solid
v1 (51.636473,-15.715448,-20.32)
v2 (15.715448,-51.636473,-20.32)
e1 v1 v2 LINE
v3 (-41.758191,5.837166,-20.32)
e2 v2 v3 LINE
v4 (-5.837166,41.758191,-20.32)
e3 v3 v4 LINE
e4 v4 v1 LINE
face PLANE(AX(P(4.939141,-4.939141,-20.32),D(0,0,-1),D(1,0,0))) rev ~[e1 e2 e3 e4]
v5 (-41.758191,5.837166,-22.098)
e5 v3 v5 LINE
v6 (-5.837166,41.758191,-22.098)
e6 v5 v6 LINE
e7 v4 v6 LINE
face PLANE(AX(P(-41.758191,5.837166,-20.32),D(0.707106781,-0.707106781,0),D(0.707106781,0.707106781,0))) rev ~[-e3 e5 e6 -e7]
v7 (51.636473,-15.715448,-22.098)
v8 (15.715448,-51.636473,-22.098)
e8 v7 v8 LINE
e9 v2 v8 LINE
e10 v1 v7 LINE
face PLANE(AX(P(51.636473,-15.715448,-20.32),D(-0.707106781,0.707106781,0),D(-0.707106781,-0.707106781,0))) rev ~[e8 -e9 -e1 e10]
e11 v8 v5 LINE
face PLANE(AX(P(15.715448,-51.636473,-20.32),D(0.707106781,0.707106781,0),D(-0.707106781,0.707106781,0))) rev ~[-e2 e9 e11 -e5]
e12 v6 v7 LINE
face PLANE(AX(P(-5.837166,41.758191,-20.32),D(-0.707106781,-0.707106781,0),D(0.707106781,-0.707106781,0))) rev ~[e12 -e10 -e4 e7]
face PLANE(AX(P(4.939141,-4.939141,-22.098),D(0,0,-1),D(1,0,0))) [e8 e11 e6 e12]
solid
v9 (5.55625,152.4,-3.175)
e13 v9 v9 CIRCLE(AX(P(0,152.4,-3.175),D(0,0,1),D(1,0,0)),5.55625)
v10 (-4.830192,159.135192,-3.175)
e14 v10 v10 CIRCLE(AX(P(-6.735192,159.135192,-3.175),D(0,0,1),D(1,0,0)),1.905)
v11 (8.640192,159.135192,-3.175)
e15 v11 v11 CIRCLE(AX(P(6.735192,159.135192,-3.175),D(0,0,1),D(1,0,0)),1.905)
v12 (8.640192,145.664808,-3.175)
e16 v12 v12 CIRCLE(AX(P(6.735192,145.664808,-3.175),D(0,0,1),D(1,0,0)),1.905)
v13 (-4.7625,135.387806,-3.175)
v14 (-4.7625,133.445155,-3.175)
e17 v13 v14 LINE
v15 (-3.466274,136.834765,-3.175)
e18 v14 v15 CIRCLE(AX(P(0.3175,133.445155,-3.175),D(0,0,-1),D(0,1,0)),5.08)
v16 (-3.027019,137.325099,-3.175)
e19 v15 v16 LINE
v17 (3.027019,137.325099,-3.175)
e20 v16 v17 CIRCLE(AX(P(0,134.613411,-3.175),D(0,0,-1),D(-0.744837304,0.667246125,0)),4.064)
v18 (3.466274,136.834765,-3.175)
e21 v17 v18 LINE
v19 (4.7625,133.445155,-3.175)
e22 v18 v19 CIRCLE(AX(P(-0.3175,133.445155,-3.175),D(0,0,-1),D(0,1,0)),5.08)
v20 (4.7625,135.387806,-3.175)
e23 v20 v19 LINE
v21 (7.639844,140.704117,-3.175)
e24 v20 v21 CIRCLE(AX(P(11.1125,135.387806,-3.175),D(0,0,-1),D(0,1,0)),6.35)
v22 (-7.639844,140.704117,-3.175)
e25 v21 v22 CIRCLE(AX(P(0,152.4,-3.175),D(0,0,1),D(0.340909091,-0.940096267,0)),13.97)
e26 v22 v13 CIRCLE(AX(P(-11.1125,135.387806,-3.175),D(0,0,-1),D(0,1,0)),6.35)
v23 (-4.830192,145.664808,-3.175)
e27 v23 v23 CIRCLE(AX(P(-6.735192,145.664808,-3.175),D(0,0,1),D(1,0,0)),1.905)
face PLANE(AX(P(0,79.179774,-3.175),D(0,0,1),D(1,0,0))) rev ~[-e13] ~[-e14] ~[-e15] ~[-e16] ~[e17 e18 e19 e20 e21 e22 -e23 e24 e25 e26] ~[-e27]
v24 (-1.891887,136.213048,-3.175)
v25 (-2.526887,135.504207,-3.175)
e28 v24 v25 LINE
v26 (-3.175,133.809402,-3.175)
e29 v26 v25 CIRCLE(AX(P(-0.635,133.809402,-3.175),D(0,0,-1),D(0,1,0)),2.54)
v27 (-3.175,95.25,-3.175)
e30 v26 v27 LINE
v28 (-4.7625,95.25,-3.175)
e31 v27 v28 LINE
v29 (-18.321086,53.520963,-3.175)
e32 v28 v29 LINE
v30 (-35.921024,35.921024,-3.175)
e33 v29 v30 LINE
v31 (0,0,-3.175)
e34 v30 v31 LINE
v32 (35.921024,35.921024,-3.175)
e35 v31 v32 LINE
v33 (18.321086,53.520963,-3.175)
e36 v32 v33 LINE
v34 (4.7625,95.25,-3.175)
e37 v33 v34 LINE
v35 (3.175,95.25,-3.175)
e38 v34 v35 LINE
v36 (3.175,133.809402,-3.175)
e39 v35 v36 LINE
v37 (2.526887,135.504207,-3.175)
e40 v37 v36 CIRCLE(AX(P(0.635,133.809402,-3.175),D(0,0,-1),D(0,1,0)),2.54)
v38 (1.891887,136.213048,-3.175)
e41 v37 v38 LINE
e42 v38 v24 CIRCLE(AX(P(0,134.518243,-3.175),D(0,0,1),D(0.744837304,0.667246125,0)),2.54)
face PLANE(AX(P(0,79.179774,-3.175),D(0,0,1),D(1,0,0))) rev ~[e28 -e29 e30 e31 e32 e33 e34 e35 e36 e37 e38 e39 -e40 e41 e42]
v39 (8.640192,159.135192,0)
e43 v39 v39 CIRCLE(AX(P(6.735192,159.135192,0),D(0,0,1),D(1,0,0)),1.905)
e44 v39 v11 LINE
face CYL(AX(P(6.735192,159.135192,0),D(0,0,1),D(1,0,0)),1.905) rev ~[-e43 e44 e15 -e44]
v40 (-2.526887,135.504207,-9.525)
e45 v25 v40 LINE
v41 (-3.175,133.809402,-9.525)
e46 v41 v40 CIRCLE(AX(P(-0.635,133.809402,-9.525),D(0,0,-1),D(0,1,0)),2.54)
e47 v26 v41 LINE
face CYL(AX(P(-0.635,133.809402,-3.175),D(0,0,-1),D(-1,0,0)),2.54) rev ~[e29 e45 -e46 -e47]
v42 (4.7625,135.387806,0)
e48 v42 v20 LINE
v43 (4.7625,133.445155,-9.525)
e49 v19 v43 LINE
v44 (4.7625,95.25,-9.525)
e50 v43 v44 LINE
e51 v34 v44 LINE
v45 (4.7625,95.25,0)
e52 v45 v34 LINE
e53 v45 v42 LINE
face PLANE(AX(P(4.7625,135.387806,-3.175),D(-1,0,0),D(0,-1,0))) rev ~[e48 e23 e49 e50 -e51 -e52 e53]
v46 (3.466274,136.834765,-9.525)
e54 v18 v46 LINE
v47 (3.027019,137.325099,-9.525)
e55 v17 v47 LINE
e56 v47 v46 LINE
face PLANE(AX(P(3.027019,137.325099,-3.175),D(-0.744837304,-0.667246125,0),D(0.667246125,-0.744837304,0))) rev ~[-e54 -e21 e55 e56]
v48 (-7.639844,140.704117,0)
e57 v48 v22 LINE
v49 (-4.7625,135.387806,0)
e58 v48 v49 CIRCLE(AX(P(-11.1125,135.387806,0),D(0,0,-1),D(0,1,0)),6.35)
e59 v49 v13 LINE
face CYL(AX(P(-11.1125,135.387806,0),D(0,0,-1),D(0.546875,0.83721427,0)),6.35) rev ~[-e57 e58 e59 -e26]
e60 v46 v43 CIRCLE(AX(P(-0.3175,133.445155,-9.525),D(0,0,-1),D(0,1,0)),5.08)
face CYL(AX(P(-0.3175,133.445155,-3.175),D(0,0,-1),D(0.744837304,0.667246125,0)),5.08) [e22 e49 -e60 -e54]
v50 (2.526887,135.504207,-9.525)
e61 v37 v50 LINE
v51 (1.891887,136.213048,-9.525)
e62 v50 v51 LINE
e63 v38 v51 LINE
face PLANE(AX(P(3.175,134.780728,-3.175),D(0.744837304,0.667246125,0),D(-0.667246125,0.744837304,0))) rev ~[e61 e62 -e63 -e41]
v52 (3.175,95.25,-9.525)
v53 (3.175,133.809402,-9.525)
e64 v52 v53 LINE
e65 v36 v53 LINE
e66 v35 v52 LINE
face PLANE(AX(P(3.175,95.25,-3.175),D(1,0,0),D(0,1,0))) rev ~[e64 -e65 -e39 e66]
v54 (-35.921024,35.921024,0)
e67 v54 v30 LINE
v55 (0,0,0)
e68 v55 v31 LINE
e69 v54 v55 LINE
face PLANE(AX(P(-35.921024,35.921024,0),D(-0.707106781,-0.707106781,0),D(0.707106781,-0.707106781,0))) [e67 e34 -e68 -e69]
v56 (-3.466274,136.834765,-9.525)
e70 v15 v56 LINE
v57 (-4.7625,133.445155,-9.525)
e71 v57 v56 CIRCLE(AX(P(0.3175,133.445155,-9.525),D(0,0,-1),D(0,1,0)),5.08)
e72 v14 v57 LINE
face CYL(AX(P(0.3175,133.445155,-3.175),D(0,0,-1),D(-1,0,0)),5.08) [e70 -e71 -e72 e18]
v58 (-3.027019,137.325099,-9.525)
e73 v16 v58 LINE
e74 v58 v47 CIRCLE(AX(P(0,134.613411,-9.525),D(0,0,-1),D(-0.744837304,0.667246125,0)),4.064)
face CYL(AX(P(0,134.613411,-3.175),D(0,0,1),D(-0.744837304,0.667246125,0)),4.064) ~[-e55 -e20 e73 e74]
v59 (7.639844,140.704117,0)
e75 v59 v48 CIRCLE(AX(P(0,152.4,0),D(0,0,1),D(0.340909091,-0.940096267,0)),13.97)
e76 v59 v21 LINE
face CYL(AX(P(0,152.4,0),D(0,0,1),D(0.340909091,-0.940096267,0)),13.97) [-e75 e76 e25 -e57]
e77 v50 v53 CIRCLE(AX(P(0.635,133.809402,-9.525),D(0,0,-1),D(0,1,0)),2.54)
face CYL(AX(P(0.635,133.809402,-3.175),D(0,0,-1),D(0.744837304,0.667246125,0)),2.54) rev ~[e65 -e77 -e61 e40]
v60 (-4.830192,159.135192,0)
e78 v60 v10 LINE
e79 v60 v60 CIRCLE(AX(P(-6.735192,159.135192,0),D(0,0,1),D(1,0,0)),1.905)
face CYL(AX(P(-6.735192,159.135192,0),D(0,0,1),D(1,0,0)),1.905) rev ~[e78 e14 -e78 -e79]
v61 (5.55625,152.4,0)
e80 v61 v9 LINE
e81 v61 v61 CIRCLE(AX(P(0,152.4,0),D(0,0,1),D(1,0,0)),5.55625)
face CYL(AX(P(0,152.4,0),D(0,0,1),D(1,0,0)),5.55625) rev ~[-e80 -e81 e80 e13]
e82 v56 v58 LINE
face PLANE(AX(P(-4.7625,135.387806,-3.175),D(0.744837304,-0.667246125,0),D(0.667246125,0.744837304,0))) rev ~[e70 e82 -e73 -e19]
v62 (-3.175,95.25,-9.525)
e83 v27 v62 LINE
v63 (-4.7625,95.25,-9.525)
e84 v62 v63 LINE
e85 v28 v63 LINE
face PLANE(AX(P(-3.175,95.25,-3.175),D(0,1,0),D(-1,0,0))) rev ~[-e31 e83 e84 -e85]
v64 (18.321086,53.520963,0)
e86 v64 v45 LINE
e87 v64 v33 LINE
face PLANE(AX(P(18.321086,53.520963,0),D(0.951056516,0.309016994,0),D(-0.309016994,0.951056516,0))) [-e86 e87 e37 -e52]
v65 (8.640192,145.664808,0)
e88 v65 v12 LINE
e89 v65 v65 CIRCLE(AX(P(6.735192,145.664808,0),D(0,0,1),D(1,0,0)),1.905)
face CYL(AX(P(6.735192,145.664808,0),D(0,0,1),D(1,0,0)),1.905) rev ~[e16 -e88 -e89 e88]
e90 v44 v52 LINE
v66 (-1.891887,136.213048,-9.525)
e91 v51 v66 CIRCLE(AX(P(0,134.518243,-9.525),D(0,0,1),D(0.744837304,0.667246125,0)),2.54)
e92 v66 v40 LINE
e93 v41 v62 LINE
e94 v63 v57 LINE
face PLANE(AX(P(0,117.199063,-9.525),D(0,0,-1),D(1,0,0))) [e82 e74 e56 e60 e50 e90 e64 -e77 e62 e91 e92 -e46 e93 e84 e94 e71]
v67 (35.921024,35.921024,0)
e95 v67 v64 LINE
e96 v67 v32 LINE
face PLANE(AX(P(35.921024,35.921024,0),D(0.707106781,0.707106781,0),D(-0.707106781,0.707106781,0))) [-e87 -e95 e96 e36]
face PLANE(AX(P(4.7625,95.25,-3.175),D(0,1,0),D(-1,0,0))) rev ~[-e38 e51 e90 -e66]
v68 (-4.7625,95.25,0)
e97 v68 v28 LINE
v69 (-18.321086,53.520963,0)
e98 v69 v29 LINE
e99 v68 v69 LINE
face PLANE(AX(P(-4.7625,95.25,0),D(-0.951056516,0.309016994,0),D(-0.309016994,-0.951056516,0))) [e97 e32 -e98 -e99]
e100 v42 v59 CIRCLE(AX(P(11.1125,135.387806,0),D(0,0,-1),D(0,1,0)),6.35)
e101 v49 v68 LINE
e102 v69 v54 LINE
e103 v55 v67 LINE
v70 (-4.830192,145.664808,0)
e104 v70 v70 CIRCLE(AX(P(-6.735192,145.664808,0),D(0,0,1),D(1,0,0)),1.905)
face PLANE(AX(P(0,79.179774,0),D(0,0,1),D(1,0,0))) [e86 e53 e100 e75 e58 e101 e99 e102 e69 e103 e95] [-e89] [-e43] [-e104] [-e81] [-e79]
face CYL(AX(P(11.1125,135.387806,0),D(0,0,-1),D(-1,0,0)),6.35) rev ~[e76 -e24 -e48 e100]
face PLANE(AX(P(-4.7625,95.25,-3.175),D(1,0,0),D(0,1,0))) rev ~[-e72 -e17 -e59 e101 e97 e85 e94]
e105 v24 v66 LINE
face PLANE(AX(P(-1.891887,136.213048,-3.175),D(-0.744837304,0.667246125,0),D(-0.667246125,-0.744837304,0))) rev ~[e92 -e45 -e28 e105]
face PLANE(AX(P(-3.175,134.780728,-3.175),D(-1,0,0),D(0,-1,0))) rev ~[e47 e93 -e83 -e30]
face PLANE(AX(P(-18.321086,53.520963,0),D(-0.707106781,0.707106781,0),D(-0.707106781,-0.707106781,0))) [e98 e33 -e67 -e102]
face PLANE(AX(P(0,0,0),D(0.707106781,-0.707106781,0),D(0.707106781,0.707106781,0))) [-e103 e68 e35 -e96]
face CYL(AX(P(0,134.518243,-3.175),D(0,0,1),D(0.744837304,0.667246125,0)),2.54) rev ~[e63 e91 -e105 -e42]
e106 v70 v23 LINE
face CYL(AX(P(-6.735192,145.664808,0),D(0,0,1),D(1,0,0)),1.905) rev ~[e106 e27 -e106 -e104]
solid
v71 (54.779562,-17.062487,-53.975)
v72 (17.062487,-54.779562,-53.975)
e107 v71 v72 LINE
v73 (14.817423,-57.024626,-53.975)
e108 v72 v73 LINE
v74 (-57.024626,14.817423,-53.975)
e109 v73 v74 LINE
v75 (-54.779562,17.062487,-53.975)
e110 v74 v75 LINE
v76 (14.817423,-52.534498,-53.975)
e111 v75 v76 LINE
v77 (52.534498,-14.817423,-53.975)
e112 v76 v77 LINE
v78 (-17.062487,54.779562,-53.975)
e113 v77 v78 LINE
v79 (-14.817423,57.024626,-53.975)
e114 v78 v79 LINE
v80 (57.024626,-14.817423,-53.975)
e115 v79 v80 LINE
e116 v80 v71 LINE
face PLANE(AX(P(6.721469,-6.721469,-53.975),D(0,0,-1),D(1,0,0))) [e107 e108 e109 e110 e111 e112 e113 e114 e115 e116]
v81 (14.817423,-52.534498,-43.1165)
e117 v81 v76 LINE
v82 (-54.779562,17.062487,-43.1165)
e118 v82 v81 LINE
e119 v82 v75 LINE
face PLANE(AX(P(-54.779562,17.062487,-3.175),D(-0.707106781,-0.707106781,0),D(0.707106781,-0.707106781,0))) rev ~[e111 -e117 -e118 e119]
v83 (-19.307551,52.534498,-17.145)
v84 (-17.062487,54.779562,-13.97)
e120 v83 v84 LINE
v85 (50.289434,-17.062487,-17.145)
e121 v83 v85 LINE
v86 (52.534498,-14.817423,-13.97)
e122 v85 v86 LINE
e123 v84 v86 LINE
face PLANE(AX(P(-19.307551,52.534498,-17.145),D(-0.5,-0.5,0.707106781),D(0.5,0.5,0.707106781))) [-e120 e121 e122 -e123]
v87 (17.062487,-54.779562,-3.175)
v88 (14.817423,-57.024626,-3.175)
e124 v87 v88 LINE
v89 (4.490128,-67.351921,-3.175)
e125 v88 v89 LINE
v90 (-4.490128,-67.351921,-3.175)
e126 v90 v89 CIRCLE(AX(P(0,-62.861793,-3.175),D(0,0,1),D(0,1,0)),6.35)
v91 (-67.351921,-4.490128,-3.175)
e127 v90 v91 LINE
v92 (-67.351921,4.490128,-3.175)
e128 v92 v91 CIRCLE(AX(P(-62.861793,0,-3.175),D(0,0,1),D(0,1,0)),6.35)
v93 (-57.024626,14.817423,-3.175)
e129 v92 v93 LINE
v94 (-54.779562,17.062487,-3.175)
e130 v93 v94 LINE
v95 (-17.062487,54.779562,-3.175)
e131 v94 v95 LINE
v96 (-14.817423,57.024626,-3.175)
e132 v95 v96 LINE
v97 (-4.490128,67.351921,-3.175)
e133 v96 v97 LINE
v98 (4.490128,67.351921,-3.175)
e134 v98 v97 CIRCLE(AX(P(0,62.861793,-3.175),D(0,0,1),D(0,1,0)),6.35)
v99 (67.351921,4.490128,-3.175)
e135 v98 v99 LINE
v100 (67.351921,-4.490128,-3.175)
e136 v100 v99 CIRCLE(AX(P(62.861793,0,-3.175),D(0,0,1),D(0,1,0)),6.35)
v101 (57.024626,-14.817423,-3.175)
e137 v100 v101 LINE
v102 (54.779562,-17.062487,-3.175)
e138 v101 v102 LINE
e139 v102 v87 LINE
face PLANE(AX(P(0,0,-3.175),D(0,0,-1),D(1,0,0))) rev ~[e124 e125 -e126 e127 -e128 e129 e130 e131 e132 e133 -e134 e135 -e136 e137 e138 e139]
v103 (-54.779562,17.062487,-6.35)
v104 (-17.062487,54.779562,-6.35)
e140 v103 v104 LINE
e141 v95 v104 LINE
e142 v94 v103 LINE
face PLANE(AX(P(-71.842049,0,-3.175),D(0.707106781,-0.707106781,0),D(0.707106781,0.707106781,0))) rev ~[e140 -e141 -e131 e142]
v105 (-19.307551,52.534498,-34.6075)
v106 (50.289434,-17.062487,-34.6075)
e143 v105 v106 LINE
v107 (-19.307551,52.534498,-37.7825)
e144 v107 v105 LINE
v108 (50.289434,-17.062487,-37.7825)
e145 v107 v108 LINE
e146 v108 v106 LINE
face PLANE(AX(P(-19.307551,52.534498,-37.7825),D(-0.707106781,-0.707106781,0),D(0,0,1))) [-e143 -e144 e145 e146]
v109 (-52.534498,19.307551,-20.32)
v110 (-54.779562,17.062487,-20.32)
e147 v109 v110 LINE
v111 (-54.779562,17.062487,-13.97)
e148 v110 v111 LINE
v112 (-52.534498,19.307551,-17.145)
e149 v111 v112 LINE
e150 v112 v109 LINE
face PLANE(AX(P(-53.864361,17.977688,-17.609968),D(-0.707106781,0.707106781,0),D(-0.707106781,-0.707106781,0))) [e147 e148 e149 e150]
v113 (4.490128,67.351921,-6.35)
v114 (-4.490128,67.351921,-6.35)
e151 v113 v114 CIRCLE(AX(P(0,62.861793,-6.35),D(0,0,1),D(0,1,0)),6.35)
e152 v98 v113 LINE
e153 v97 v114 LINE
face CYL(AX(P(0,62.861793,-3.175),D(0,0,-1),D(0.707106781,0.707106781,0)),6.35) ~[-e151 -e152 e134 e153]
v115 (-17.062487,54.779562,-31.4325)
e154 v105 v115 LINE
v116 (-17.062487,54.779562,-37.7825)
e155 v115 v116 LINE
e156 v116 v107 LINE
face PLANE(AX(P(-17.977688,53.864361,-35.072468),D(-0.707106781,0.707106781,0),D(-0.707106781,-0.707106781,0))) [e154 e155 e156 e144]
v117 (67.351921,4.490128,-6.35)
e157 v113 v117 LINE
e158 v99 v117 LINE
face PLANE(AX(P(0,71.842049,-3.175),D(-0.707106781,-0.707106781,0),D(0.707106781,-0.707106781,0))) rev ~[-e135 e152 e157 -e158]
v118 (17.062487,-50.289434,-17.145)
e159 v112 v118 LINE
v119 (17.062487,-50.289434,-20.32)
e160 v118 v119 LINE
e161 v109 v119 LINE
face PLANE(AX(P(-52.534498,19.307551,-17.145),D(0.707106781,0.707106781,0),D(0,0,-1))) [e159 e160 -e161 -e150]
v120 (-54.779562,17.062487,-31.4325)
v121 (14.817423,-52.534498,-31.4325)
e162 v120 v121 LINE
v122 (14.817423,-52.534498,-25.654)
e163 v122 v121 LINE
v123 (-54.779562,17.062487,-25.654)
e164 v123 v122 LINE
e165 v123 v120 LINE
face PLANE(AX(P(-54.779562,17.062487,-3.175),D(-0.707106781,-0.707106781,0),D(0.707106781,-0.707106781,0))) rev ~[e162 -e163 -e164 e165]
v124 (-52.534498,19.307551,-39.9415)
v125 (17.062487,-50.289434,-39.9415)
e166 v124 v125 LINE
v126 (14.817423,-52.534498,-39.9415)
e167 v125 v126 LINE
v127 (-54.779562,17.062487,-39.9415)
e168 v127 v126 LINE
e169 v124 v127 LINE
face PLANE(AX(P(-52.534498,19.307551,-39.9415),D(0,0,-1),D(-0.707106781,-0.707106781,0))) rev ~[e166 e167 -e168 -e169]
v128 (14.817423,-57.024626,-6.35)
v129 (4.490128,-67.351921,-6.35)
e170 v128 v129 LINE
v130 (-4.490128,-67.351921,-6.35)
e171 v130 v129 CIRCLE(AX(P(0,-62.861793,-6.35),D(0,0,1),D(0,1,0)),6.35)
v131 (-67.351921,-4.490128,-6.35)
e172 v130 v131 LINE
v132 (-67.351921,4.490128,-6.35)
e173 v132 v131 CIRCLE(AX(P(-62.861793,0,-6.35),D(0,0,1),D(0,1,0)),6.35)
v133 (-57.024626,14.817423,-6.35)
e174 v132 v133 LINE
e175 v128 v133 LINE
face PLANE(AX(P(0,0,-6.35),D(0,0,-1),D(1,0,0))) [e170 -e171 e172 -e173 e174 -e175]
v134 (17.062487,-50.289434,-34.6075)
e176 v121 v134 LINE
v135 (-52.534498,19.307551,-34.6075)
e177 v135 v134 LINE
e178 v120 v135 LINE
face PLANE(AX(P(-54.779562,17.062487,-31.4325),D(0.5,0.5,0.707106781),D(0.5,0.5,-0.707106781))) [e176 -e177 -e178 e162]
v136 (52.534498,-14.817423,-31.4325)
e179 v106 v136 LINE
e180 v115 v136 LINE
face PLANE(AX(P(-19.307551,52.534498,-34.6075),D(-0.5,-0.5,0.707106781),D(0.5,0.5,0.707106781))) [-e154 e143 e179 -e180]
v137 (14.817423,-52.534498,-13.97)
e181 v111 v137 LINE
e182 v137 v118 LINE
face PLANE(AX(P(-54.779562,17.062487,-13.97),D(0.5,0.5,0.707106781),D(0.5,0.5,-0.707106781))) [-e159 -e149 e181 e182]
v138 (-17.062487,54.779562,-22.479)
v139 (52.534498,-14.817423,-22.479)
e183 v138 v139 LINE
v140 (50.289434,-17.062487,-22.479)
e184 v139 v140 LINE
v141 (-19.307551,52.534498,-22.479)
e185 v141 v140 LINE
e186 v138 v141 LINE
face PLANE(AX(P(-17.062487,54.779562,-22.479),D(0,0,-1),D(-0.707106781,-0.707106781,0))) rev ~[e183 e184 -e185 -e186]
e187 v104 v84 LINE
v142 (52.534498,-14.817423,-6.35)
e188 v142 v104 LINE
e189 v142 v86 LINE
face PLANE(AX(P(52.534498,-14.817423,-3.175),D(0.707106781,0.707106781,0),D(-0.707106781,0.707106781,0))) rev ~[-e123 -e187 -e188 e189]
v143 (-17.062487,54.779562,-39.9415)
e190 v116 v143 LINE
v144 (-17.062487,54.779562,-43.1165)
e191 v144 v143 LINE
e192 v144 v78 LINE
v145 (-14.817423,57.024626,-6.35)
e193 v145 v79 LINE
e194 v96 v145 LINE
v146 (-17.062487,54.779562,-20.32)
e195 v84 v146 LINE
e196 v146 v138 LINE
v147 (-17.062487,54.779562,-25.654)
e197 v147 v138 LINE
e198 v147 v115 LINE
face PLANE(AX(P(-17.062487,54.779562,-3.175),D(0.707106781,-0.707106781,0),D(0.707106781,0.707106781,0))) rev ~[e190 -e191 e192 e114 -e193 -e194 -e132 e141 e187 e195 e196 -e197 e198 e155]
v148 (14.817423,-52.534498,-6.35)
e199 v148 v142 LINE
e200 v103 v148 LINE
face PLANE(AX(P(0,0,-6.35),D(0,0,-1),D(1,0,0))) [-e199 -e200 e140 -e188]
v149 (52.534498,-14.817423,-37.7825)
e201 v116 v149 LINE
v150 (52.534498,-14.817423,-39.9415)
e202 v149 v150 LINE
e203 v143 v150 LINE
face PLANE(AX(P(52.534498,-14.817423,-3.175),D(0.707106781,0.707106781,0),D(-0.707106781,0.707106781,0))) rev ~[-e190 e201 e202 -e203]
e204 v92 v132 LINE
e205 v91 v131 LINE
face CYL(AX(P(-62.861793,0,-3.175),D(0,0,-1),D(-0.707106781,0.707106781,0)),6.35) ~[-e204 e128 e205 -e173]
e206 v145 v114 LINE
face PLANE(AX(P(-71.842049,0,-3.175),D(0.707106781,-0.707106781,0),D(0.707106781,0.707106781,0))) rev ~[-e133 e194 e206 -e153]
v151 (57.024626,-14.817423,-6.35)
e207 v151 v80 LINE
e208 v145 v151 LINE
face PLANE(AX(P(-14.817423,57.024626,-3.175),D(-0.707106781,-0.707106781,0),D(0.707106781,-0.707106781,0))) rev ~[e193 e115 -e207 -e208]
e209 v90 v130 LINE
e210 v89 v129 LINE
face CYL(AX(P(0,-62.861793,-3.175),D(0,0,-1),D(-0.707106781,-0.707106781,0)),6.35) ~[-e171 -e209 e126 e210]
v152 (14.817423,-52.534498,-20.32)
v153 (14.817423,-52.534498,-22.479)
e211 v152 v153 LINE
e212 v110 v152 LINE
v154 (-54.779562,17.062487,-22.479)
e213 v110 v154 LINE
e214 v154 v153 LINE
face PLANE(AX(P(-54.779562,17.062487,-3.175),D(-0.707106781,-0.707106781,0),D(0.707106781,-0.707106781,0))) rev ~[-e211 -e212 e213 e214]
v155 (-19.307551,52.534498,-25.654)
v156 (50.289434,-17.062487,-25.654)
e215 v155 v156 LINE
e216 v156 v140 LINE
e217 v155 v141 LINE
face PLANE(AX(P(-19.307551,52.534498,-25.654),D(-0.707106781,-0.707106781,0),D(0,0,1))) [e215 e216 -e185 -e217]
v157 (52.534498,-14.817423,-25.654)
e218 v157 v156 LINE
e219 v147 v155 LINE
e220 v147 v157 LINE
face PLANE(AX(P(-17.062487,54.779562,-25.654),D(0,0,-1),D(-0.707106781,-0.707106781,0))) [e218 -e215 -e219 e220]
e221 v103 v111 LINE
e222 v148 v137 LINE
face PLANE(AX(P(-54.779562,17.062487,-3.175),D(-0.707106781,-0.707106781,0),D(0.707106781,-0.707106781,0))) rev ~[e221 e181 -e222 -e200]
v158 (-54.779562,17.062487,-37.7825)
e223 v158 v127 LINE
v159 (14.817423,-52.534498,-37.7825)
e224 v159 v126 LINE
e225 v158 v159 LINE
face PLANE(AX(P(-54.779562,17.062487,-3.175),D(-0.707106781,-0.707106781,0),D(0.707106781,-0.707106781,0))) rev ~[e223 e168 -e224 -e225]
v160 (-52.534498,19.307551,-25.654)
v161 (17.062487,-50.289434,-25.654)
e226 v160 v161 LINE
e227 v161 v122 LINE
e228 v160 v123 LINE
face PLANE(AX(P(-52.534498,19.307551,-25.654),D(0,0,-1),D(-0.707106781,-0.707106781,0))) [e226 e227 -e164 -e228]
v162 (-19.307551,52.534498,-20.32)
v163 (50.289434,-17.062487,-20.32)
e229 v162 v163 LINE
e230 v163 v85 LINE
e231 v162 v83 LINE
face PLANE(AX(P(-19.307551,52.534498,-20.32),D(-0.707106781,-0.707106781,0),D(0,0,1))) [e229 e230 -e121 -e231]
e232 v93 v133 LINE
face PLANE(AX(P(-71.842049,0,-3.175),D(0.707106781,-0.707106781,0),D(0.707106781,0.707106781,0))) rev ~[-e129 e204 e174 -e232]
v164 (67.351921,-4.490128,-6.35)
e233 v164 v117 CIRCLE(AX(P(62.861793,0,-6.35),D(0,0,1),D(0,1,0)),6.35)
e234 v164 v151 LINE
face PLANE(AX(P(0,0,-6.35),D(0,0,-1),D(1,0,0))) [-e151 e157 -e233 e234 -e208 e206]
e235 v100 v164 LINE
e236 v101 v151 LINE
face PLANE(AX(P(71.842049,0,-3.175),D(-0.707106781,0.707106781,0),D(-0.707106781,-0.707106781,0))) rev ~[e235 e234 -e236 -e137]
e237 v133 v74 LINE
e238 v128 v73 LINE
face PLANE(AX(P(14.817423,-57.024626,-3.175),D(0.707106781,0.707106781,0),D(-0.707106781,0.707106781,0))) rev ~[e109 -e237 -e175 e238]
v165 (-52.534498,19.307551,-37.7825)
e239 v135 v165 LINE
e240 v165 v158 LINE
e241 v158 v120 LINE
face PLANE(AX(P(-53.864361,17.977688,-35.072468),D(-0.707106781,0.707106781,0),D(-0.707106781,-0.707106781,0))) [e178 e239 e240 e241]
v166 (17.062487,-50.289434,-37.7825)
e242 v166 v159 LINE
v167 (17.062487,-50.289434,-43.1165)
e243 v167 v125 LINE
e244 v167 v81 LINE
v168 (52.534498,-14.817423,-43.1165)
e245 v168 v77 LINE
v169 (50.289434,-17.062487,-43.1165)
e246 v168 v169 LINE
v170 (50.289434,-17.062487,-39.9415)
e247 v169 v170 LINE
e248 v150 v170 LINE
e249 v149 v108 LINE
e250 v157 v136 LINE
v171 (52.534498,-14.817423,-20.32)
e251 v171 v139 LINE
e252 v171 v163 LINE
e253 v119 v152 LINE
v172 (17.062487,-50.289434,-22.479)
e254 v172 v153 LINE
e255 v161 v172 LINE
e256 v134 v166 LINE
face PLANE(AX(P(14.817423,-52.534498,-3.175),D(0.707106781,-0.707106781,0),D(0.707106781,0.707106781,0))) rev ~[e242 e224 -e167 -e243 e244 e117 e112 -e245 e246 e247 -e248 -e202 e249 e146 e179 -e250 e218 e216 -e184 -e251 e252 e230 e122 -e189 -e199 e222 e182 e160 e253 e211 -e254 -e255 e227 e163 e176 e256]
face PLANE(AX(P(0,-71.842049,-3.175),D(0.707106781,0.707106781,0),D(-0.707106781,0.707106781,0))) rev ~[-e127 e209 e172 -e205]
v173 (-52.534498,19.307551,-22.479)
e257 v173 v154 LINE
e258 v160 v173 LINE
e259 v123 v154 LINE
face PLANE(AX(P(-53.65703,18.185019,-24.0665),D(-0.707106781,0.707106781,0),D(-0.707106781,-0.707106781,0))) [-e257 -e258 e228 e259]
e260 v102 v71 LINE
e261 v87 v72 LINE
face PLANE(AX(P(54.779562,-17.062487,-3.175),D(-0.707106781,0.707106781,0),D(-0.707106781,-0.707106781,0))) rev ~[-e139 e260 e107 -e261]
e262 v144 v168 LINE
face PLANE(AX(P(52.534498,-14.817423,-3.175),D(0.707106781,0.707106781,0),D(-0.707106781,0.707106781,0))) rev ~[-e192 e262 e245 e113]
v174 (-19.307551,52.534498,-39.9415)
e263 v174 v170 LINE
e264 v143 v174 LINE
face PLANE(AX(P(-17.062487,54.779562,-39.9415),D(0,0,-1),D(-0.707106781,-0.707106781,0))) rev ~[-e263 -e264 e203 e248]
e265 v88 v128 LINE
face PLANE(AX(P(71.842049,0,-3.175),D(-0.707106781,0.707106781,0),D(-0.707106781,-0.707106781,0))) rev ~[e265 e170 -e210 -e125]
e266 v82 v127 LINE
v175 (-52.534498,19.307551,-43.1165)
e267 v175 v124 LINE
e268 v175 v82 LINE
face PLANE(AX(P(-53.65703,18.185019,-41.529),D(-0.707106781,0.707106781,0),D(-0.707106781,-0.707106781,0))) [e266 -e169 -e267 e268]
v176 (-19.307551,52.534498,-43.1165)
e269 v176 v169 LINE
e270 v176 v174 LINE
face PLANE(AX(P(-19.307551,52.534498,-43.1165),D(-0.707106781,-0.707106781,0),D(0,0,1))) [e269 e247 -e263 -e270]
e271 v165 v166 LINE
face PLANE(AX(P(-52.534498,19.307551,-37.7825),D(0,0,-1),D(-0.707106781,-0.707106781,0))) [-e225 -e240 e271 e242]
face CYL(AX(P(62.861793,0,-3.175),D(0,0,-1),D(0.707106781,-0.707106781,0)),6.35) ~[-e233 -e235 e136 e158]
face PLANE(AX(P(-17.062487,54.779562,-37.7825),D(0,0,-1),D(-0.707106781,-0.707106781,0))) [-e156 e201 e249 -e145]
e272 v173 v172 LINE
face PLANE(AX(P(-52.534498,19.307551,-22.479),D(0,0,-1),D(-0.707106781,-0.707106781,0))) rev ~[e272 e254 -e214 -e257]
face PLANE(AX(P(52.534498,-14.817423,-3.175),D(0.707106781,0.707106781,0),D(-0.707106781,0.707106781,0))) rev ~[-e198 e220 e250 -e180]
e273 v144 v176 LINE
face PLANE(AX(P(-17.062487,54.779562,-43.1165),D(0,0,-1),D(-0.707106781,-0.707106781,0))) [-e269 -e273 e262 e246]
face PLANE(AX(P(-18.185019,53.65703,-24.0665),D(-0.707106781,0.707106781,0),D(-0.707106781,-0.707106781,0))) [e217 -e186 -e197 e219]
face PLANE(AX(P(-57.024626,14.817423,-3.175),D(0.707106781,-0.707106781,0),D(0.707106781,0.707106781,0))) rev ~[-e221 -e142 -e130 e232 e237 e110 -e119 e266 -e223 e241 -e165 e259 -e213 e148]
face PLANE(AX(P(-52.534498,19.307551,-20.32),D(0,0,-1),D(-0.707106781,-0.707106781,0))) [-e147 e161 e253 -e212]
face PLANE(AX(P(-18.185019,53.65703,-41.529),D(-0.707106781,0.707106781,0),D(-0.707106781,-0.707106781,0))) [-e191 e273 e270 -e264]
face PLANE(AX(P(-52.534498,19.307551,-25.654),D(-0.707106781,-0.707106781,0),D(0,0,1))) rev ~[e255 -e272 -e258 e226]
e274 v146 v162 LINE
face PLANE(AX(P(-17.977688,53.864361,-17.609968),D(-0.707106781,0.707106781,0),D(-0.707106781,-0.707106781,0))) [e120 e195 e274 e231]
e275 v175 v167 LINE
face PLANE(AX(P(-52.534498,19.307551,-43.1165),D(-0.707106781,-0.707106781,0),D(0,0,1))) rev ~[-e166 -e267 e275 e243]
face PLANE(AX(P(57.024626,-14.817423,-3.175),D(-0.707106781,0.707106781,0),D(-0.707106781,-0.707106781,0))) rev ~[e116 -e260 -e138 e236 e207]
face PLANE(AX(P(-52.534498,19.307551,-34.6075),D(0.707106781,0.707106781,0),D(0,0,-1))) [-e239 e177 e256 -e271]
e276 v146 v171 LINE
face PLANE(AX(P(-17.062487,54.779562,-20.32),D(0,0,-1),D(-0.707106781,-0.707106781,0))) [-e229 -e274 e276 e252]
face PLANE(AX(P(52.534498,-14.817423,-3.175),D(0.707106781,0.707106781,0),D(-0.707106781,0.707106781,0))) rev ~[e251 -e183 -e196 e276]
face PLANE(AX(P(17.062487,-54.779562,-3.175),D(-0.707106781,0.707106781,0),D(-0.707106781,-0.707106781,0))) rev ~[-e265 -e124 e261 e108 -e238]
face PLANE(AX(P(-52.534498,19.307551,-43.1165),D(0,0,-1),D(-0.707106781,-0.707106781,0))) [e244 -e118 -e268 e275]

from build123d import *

# Parameters (mm, degrees)
F0_R      = 1.905
F0_R_2    = 5.55625
F1_DEPTH  = 3.175
F3_DEPTH  = 50.8
F4_W      = 3.175
F4_H      = 3.175
F5_DEPTH  = 98.425
F7_DEPTH  = 1.778
F9_DEPTH  = 3.175
F10_R     = 6.35
F12_DEPTH = 6.35
F13_R     = 5.08
F14_R     = 2.54
F15_R     = 6.35


with BuildPart() as f1:
    # F0 (on Top) → F1 (new body)
    with BuildSketch(Plane.XY):
        with BuildLine():
            Line((4.7625, 95.25), (4.7625, 139.2668551462))
            ThreePointArc((4.7625, 139.2668551462), (0, 166.37), (-4.7625, 139.2668551462))
            Line((-4.7625, 139.2668551462), (-4.7625, 95.25))
            Line((-4.7625, 95.25), (-18.3210860538, 53.5209629147))
            Line((-18.3210860538, 53.5209629147), (-35.9210244843, 35.9210244843))
            Line((-35.9210244843, 35.9210244843), (0, 0))
            Line((0, 0), (35.9210244843, 35.9210244843))
            Line((35.9210244843, 35.9210244843), (18.3210860538, 53.5209629147))
            Line((18.3210860538, 53.5209629147), (4.7625, 95.25))
        make_face()
        with Locations((-6.7351920908, 145.6648079092)):
            Circle(F0_R, mode=Mode.SUBTRACT)
        with Locations((0, 152.4)):
            Circle(F0_R_2, mode=Mode.SUBTRACT)
        with Locations((-6.7351920908, 159.1351920908)):
            Circle(F0_R, mode=Mode.SUBTRACT)
        with Locations((6.7351920908, 145.6648079092)):
            Circle(F0_R, mode=Mode.SUBTRACT)
        with Locations((6.7351920908, 159.1351920908)):
            Circle(F0_R, mode=Mode.SUBTRACT)
    extrude(amount=-F1_DEPTH)

    # F10
    f10_edges = [f1.edges().sort_by_distance(p)[0] for p in [
        (-4.7625, 139.266855, -1.5875),
        (4.7625, 139.266855, -1.5875),
    ]]
    fillet(f10_edges, radius=F10_R)

    # F11 (on face) → F12 (join)
    with BuildSketch(Plane(origin=(0, 0, -3.175), x_dir=(1, 0, 0), z_dir=(0, 0, -1))):
        with BuildLine():
            Line((-3.175, -95.25), (-4.7625, -95.25))
            Line((-4.7625, -95.25), (-4.7625, -135.3878060277))
            Line((-4.7625, -135.3878060277), (-3.0270188015, -137.3250988614))
            ThreePointArc((-3.0270188015, -137.3250988614), (0, -138.6774106095), (3.0270188015, -137.3250988614))
            Line((3.0270188015, -137.3250988614), (4.7625, -135.3878060277))
            Line((4.7625, -135.3878060277), (4.7625, -95.25))
            Line((4.7625, -95.25), (3.175, -95.25))
            Line((3.175, -95.25), (3.175, -134.7807275217))
            Line((3.175, -134.7807275217), (1.8918867509, -136.2130484851))
            ThreePointArc((1.8918867509, -136.2130484851), (0, -137.0582433277), (-1.8918867509, -136.2130484851))
            Line((-1.8918867509, -136.2130484851), (-3.175, -134.7807275217))
            Line((-3.175, -134.7807275217), (-3.175, -95.25))
        make_face()
    extrude(amount=F12_DEPTH)

    # F13
    f13_edges = [f1.edges().sort_by_distance(p)[0] for p in [
        (-4.7625, 135.387806, -6.35),
        (4.7625, 135.387806, -6.35),
    ]]
    fillet(f13_edges, radius=F13_R)

    # F14
    f14_edges = [f1.edges().sort_by_distance(p)[0] for p in [
        (3.175, 134.780728, -6.35),
        (-3.175, 134.780728, -6.35),
    ]]
    fillet(f14_edges, radius=F14_R)


with BuildPart() as f3:
    # F2 (on face) → F3 (new body)
    with BuildSketch(Plane(origin=(0, 0, -3.175), x_dir=(1, 0, 0), z_dir=(0, 0, -1))):
        Polygon((17.06248663, 54.7795623385), (14.8174225998, 57.0246263688), (-57.0246263688, -14.8174225998), (-54.7795623385, -17.06248663), (14.8174225998, 52.5344983083), (52.5344983083, 14.8174225998), (-17.06248663, -54.7795623385), (-14.8174225998, -57.0246263688), (57.0246263688, 14.8174225998), (54.7795623385, 17.06248663), align=None)
    extrude(amount=F3_DEPTH)

    # F4 (on face) → F5 (join, through all)
    with BuildSketch(Plane(origin=(-35.9210244843, 35.9210244843, 0), x_dir=(-0.7071067812, -0.7071067812, 0), z_dir=(-0.7071067812, 0.7071067812, 0))):
        Polygon((-26.67, -19.05), (-26.67, -20.32), (-23.495, -20.32), (-23.495, -17.145), (-26.67, -13.97), align=None)
        with Locations((-25.0825, -24.0665)):
            Rectangle(F4_W, F4_H)
        with Locations((25.0825, -24.0665)):
            Rectangle(F4_W, F4_H)
        Polygon((26.67, -13.97), (23.495, -17.145), (23.495, -20.32), (26.67, -20.32), (26.67, -19.05), align=None)
        with Locations((-25.0825, -41.529)):
            Rectangle(F4_W, F4_H)
        Polygon((-26.67, -31.4325), (-26.67, -36.5125), (-26.67, -37.7825), (-23.495, -37.7825), (-23.495, -34.6075), align=None)
        Polygon((26.67, -37.7825), (26.67, -36.5125), (26.67, -31.4325), (23.495, -34.6075), (23.495, -37.7825), align=None)
        with Locations((25.0825, -41.529)):
            Rectangle(F4_W, F4_H)
    extrude(amount=-F5_DEPTH)

    # F8 (on face) → F9 (join)
    with BuildSketch(Plane(origin=(0, 0, -3.175), x_dir=(1, 0, 0), z_dir=(0, 0, -1))):
        Polygon((71.8420489686, 0), (0, 71.8420489686), (-71.8420489686, 0), (0, -71.8420489686), align=None)
    extrude(amount=F9_DEPTH)

    # F15
    f15_edges = [f3.edges().sort_by_distance(p)[0] for p in [
        (0, 71.842049, -4.7625),
        (-71.842049, 0, -4.7625),
        (0, -71.842049, -4.7625),
        (71.842049, 0, -4.7625),
    ]]
    fillet(f15_edges, radius=F15_R)


with BuildPart() as f7:
    # F6 (on face) → F7 (new body)
    with BuildSketch(Plane(origin=(0, 0, -20.32), x_dir=(1, 0, 0), z_dir=(0, 0, -1))):
        Polygon((51.6364726961, 15.7154482119), (15.7154482119, 51.6364726961), (-41.758190963, -5.8371664787), (-5.8371664787, -41.758190963), align=None)
    extrude(amount=F7_DEPTH)


solid = Compound([f1.part, f3.part, f7.part])
